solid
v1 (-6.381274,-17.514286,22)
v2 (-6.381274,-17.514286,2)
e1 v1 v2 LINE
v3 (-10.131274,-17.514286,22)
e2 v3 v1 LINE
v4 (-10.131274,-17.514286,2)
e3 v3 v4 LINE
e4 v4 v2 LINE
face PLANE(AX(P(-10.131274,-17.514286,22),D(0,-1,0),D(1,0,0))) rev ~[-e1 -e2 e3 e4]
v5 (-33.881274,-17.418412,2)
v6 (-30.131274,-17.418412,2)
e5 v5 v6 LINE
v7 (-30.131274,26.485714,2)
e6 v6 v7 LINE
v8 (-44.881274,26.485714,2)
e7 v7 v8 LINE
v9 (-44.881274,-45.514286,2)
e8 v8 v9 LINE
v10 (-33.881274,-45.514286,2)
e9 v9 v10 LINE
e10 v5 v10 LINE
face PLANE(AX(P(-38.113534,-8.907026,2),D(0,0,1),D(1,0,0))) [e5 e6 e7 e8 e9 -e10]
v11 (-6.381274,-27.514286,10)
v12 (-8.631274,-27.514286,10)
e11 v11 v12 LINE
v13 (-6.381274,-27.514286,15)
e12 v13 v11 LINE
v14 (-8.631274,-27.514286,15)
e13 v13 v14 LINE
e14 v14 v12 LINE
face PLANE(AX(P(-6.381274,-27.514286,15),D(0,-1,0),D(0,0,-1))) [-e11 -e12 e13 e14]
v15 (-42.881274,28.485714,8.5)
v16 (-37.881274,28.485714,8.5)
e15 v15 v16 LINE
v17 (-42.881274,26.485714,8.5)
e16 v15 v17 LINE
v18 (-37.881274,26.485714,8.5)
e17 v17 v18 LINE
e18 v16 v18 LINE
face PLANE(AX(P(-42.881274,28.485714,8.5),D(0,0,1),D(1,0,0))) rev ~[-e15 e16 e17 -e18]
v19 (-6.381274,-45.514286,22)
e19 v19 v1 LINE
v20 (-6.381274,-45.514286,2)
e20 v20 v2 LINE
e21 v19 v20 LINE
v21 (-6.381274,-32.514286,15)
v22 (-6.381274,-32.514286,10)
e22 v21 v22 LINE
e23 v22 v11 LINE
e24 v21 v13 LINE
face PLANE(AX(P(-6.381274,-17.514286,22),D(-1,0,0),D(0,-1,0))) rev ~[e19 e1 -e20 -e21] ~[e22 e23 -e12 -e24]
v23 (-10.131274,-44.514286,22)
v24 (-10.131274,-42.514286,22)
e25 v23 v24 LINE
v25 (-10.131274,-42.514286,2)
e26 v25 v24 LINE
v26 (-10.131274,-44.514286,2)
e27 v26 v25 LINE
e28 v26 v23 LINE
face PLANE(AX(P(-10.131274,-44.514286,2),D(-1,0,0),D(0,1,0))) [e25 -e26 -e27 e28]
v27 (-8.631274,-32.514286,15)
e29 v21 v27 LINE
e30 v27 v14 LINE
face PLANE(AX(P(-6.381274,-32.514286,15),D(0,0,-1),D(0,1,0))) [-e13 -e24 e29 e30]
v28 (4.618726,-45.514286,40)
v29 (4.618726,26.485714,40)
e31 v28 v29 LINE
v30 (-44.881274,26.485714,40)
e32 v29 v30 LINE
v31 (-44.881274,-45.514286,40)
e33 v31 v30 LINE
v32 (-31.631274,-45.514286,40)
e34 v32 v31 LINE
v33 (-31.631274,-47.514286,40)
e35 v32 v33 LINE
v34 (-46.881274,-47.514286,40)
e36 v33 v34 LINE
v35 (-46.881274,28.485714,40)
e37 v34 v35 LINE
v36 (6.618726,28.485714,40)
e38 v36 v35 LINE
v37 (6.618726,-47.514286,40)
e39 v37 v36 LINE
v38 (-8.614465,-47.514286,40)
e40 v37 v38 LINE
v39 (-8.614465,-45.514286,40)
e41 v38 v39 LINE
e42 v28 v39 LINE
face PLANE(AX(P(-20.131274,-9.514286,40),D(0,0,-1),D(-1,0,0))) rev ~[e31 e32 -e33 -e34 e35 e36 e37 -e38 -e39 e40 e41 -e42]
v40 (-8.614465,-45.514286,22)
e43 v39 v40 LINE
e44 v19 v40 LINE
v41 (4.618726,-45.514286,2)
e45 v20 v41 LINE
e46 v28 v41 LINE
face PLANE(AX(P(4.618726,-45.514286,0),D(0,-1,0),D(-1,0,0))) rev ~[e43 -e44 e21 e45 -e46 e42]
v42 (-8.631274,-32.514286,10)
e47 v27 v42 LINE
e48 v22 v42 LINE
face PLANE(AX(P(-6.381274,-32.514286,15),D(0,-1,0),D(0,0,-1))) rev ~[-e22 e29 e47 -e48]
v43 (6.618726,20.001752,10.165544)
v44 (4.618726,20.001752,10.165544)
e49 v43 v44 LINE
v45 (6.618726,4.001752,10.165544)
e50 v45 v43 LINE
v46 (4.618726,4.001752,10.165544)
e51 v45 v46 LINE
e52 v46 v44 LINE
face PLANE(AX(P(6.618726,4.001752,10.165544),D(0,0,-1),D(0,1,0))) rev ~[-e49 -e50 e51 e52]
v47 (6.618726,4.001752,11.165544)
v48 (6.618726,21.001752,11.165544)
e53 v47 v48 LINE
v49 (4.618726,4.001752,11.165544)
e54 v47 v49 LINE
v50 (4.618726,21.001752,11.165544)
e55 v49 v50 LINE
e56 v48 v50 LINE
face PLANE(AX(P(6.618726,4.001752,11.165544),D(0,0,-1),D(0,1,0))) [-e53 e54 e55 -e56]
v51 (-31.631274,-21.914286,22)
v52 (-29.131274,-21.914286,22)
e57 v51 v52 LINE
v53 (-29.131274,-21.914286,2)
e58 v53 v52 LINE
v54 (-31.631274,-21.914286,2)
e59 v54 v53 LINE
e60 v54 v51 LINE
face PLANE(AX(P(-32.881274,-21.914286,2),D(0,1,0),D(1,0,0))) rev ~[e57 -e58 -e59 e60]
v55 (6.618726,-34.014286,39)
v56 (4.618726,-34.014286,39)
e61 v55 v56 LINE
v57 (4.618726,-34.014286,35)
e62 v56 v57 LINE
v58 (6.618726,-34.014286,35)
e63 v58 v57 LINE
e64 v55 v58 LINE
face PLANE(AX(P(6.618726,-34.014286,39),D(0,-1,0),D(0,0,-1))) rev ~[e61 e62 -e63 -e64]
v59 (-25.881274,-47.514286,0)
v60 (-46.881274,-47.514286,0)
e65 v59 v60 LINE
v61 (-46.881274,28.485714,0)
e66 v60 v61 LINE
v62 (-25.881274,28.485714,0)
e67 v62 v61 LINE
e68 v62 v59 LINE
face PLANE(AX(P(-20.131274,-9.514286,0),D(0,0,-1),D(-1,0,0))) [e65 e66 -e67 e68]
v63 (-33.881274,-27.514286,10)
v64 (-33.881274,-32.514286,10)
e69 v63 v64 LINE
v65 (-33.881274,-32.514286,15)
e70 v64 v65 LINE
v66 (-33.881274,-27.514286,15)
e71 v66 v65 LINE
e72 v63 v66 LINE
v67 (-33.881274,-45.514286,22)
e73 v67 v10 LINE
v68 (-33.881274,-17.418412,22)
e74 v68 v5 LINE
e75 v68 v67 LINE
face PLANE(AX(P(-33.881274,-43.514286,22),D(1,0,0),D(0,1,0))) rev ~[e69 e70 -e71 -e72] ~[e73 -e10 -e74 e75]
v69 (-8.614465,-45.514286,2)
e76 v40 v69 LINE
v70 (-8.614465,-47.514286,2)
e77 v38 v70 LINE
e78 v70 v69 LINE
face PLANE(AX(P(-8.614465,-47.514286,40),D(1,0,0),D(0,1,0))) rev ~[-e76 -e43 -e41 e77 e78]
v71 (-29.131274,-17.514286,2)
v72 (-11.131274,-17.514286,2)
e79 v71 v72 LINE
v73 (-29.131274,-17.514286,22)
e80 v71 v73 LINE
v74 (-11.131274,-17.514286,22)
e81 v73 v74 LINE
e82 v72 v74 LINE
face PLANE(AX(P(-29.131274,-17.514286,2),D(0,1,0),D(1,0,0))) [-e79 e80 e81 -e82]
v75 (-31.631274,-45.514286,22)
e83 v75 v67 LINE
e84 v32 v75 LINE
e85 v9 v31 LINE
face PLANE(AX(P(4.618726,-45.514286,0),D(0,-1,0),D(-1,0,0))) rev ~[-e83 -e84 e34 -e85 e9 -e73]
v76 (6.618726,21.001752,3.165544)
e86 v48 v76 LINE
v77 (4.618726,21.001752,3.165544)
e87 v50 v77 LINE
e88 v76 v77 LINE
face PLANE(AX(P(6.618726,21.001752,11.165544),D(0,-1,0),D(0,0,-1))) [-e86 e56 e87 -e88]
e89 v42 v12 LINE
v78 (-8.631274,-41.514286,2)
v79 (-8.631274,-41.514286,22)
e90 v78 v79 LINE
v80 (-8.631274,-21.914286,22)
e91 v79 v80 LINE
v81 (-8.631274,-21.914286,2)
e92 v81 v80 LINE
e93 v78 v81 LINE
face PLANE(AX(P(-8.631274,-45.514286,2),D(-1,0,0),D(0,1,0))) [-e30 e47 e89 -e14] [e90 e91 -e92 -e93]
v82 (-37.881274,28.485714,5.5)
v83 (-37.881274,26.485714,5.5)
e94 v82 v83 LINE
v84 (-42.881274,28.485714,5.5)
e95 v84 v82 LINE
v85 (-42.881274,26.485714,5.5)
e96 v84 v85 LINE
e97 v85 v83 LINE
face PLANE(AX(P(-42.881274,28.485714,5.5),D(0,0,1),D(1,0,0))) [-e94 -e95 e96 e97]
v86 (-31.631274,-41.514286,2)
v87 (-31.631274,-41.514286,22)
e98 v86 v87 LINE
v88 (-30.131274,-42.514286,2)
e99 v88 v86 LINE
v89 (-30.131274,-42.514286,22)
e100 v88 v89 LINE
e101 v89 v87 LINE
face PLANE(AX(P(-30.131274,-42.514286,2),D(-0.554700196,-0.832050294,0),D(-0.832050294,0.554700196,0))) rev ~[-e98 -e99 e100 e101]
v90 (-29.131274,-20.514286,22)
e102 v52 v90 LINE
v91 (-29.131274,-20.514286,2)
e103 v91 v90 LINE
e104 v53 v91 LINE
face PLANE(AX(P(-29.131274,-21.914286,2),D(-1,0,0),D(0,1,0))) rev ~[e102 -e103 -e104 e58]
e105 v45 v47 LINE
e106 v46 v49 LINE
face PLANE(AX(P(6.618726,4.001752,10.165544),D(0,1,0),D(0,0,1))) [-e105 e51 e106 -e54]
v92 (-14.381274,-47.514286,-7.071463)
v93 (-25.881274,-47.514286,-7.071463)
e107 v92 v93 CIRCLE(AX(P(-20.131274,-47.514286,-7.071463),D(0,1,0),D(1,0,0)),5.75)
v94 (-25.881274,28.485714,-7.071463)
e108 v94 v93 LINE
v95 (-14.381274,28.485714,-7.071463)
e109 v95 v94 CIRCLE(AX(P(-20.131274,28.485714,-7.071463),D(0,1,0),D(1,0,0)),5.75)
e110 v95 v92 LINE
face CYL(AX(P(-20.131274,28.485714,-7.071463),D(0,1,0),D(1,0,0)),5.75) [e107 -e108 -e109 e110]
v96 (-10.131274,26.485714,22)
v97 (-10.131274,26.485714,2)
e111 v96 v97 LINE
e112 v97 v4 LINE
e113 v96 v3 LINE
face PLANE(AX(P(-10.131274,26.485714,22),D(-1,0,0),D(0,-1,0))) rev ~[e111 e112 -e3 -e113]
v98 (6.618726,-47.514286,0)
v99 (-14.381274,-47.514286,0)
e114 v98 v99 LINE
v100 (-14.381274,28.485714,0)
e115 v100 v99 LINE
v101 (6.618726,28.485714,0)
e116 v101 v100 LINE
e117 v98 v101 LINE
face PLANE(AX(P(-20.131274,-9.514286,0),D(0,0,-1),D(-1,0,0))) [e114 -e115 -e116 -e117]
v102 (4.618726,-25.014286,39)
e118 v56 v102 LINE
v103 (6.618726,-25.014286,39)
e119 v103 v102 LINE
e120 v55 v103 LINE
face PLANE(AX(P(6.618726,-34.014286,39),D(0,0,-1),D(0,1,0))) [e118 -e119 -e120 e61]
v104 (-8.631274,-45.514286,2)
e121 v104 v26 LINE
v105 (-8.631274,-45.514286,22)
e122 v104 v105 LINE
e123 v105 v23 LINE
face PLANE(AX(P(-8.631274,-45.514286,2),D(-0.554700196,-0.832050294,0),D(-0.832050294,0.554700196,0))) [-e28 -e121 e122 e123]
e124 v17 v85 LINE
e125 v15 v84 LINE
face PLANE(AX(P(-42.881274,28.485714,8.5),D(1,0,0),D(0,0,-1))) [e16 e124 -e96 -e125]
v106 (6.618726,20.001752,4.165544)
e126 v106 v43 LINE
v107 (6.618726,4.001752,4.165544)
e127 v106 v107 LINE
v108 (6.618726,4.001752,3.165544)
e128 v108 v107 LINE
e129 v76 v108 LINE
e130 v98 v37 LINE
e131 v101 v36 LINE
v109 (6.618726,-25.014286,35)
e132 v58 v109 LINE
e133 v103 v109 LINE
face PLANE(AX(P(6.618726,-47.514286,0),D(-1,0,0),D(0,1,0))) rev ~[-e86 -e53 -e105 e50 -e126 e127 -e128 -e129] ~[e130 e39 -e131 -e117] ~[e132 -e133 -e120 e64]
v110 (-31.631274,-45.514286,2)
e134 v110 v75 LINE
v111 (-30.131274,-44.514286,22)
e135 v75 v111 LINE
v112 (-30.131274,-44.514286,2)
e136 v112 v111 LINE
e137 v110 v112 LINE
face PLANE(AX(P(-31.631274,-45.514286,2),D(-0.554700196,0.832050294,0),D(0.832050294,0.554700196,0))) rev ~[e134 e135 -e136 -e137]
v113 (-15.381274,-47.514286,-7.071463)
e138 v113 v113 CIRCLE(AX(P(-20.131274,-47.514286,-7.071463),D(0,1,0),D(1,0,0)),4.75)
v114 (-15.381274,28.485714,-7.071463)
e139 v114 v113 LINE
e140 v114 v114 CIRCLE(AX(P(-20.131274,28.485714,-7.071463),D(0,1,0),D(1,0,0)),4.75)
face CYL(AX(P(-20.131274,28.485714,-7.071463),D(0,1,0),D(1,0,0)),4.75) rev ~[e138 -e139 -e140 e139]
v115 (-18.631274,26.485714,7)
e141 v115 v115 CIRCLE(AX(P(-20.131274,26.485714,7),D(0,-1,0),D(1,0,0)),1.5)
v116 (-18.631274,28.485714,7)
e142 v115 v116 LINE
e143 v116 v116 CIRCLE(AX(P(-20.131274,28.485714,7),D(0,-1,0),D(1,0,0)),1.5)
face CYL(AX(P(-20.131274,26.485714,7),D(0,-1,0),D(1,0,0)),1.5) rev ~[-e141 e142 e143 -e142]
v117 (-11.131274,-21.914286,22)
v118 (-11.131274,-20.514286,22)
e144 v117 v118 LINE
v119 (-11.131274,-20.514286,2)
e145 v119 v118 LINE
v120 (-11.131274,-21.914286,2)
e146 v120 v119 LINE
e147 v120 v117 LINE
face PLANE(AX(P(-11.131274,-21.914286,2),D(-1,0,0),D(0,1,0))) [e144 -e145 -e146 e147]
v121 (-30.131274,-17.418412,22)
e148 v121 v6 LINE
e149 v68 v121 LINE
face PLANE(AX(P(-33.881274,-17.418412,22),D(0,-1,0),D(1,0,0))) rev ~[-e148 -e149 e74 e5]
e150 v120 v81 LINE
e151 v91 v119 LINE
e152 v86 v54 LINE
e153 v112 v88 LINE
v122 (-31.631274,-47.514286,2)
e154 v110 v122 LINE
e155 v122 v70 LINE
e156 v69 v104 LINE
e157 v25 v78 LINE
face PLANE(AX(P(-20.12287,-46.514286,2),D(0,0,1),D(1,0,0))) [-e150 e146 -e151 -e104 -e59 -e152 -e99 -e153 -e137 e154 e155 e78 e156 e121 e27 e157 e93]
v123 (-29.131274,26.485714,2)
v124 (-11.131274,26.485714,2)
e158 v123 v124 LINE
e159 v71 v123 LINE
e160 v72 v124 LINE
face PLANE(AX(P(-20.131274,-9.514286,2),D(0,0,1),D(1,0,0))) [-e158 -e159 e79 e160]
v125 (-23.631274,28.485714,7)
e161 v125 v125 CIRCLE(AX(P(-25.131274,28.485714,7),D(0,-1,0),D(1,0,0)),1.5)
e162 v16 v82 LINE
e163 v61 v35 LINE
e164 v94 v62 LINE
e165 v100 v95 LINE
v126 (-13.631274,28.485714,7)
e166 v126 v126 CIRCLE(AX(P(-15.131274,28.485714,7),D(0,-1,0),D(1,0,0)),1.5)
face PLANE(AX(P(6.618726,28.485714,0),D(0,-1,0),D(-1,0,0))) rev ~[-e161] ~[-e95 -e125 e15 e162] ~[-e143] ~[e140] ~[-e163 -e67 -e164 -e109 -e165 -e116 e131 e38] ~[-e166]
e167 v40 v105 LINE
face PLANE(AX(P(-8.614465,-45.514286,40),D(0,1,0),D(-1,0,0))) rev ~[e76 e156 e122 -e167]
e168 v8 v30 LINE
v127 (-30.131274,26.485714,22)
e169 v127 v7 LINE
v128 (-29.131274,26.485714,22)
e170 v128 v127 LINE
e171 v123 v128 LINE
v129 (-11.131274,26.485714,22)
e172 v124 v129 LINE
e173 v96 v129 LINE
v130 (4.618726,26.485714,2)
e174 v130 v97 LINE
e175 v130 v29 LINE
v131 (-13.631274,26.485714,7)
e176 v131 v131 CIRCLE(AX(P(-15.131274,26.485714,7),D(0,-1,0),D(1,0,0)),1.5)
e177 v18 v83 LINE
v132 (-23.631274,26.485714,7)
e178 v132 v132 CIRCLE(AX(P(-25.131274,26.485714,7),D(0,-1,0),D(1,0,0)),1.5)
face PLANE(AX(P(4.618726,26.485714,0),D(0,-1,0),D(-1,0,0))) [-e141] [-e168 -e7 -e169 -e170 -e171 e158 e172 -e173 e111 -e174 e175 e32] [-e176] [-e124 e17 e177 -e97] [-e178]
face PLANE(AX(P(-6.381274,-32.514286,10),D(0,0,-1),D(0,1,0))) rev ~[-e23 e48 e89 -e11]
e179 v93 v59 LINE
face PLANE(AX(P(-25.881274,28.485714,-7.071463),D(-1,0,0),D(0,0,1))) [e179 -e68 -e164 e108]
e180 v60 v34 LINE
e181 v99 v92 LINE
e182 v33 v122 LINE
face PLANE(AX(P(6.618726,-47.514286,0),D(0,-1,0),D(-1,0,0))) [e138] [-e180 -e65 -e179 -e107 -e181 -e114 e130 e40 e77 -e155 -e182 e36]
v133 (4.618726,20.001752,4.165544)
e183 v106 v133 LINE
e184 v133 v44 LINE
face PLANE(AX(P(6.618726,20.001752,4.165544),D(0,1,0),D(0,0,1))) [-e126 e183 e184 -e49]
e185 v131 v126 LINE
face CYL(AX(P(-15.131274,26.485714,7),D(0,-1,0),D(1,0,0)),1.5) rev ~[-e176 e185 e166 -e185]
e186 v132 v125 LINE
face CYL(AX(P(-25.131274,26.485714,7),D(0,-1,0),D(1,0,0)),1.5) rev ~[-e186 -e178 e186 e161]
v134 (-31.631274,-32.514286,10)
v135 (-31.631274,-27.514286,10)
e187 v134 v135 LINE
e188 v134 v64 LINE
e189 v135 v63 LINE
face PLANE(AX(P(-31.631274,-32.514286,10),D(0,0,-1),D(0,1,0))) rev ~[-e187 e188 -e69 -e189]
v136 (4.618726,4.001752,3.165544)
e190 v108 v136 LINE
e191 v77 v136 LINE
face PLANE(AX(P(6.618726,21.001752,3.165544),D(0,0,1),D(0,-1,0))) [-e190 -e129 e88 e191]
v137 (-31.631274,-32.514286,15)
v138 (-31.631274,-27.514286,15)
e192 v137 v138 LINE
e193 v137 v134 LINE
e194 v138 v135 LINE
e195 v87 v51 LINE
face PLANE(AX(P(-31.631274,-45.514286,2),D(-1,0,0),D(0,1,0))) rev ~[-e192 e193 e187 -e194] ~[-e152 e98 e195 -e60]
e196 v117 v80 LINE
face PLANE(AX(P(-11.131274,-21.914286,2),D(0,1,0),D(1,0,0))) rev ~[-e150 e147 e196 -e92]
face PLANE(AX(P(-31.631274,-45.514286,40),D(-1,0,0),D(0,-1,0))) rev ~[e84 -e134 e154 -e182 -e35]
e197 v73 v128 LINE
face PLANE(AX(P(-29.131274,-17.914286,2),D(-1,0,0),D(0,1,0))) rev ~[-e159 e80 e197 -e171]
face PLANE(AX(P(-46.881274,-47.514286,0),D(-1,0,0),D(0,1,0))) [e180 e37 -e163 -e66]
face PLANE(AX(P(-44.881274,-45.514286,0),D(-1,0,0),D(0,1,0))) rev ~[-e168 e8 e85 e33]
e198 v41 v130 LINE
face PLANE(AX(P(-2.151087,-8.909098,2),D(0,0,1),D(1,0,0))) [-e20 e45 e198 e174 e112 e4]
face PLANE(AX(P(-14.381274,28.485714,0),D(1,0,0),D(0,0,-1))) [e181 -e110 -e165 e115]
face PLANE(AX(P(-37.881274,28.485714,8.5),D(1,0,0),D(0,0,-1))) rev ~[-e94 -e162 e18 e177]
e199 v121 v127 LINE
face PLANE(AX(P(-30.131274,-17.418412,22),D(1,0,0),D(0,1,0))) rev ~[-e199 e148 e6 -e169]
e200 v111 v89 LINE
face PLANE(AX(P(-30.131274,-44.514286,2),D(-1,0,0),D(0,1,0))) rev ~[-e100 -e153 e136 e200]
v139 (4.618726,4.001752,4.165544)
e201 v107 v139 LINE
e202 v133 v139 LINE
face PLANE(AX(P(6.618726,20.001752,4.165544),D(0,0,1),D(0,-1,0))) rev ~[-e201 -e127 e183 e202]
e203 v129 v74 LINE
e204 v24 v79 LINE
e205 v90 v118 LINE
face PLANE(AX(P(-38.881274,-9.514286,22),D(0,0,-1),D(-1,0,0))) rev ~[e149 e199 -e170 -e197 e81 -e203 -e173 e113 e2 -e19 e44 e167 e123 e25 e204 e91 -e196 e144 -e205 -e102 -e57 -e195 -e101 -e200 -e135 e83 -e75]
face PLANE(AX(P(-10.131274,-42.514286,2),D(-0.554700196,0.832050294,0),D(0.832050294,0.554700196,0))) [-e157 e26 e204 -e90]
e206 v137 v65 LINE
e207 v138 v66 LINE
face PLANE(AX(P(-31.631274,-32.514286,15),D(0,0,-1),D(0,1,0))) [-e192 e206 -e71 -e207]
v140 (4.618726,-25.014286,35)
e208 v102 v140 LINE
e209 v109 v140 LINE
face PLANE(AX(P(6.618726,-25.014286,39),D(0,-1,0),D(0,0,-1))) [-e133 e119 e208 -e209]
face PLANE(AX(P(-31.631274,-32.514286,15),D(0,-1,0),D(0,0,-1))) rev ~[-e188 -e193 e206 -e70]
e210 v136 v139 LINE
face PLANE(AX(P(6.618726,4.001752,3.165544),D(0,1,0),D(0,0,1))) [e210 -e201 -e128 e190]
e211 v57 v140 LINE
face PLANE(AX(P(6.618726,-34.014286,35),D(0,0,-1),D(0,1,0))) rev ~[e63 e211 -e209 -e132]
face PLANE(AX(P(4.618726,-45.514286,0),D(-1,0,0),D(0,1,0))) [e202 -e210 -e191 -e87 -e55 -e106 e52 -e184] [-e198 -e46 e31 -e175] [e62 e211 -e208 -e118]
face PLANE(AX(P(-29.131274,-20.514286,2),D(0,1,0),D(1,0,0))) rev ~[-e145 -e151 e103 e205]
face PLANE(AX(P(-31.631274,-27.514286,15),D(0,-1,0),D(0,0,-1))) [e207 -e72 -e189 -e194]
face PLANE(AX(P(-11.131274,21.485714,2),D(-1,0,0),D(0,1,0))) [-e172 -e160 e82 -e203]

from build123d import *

# Parameters (mm, degrees)
SKETCH1_W            = 25.5
SKETCH1_H            = 72
BOSS_EXTRUDE1_DEPTH  = 2
SKETCH2_W            = 3.75
SKETCH2_H            = 5
SKETCH2_H_2          = 4
BOSS_EXTRUDE2_DEPTH  = 20
SKETCH3_W            = 18
SKETCH3_H            = 3
BOSS_EXTRUDE3_DEPTH  = 20
SKETCH4_W            = 3.75
SKETCH4_H            = 39.4
BOSS_EXTRUDE4_DEPTH  = 20
SKETCH9_W            = 1.25
SKETCH9_H            = 23.6
BOSS_EXTRUDE6_DEPTH  = 20
BOSS_EXTRUDE7_DEPTH  = 20
SKETCH15_W           = 12
SKETCH15_H           = 72
BOSS_EXTRUDE8_DEPTH  = 22
SKETCH16_W           = 53.5
SKETCH16_H           = 76
SKETCH16_W_2         = 49.5
SKETCH16_H_2         = 72
BOSS_EXTRUDE9_DEPTH  = 40
SKETCH17_W           = 9
SKETCH17_H           = 68
CUT_EXTRUDE1_DEPTH   = 20
SKETCH276_R          = 1.5
CUT_EXTRUDE2_DEPTH   = 3
CUT_EXTRUDE3_DEPTH   = 20
CUT_EXTRUDE4_REACH   = 55.5
SKETCH283_W          = 4
SKETCH283_H          = 9
CUT_EXTRUDE5_REACH   = 17.25
SKETCH287_W          = 5
SKETCH287_H          = 5
CUT_EXTRUDE6_REACH   = 42.5
SKETCH288_W          = 5
SKETCH288_H          = 5
CUT_EXTRUDE8_REACH   = 78
SKETCH291_W          = 5
SKETCH291_H          = 3
CUT_EXTRUDE9_REACH   = 55.5
CUT_EXTRUDE10_DEPTH  = 38
SKETCH297_R          = 4.75
BOSS_EXTRUDE10_DEPTH = 76


with BuildPart() as part:
    # Sketch1 → Boss-Extrude1 (new body)
    with BuildSketch(Plane.XY):
        with Locations((-20.131274131, -9.514285714)):
            Rectangle(SKETCH1_W, SKETCH1_H)
    extrude(amount=BOSS_EXTRUDE1_DEPTH)

    # Sketch2 → Boss-Extrude2 (add)
    with BuildSketch(Plane.XY.offset(2)):
        with Locations((-31.006274131, 23.985714286)):
            Rectangle(SKETCH2_W, SKETCH2_H)
        with Locations((-31.006274131, -19.914285714)):
            Rectangle(SKETCH2_W, SKETCH2_H_2)
        with Locations((-9.256274131, -19.914285714)):
            Rectangle(SKETCH2_W, SKETCH2_H_2)
        with Locations((-9.256274131, 23.985714286)):
            Rectangle(SKETCH2_W, SKETCH2_H)
    extrude(amount=BOSS_EXTRUDE2_DEPTH)

    # Sketch3 → Boss-Extrude3 (add)
    with BuildSketch(Plane.XY.offset(2)):
        with Locations((-20.131274131, -19.014285714)):
            Rectangle(SKETCH3_W, SKETCH3_H)
    extrude(amount=BOSS_EXTRUDE3_DEPTH)

    # Sketch4 → Boss-Extrude4 (add)
    with BuildSketch(Plane.XY.offset(2)):
        with Locations((-31.006274131, 1.785714286)):
            Rectangle(SKETCH4_W, SKETCH4_H)
        with Locations((-9.256274131, 1.785714286)):
            Rectangle(SKETCH4_W, SKETCH4_H)
    extrude(amount=BOSS_EXTRUDE4_DEPTH)

    # Sketch9 → Boss-Extrude6 (add)
    with BuildSketch(Plane.XY.offset(2)):
        with Locations((-32.256274131, -33.714285714)):
            Rectangle(SKETCH9_W, SKETCH9_H)
        with Locations((-8.006274131, -33.714285714)):
            Rectangle(SKETCH9_W, SKETCH9_H)
    extrude(amount=BOSS_EXTRUDE6_DEPTH)

    # Sketch11 → Boss-Extrude7 (add)
    with BuildSketch(Plane.XY.offset(2)):
        Polygon((-31.631274131, -45.514285714), (-30.131274131, -44.514285714), (-30.131274131, -42.514285714), (-31.631274131, -41.514285714), align=None)
        Polygon((-8.631274131, -45.514285714), (-10.131274131, -44.514285714), (-10.131274131, -42.514285714), (-8.631274131, -41.514285714), align=None)
    extrude(amount=BOSS_EXTRUDE7_DEPTH)

    # Sketch15 → Boss-Extrude8 (add)
    with BuildSketch(Plane(origin=(0, 0, 0), x_dir=(-1, 0, 0), z_dir=(0, 0, -1))):
        with Locations((38.881274131, -9.514285714)):
            Rectangle(SKETCH15_W, SKETCH15_H)
        with Locations((1.381274131, -9.514285714)):
            Rectangle(SKETCH15_W, SKETCH15_H)
    extrude(amount=-BOSS_EXTRUDE8_DEPTH)

    # Sketch16 → Boss-Extrude9 (add)
    with BuildSketch(Plane(origin=(0, 0, 0), x_dir=(-1, 0, 0), z_dir=(0, 0, -1))):
        with Locations((20.131274131, -9.514285714)):
            Rectangle(SKETCH16_W, SKETCH16_H)
        with Locations((20.131274131, -9.514285714)):
            Rectangle(SKETCH16_W_2, SKETCH16_H_2, mode=Mode.SUBTRACT)
    extrude(amount=-BOSS_EXTRUDE9_DEPTH)

    # Sketch17 → Cut-Extrude1 (cut)
    with BuildSketch(Plane.XY.offset(22)):
        with Locations((-38.381274131, -9.514285714)):
            Rectangle(SKETCH17_W, SKETCH17_H)
        with Locations((-1.881274131, -9.514285714)):
            Rectangle(SKETCH17_W, SKETCH17_H)
    extrude(amount=-CUT_EXTRUDE1_DEPTH, mode=Mode.SUBTRACT)

    # Sketch276 → Cut-Extrude2 (cut, through all)
    with BuildSketch(Plane.XZ.offset(-26.485714286)):
        with Locations((-25.131274131, 7)):
            Circle(SKETCH276_R)
        with Locations((-15.131274131, 7)):
            Circle(SKETCH276_R)
        with Locations((-20.131274131, 7)):
            Circle(SKETCH276_R)
    extrude(amount=-CUT_EXTRUDE2_DEPTH, mode=Mode.SUBTRACT)

    # Sketch282 → Cut-Extrude3 (cut)
    with BuildSketch(Plane.XY.offset(22)):
        Polygon((-33.881274131, -17.418411546), (-30.131274131, -17.418411546), (-30.131274131, 26.485714286), (-44.881274131, 26.485714286), (-44.881274131, -45.514285714), (-33.881274131, -45.514285714), align=None)
        Polygon((-10.131274131, 26.485714286), (-10.131274131, -17.514285714), (-6.381274131, -17.514285714), (-6.381274131, -45.514285714), (4.618725869, -45.514285714), (4.618725869, 26.485714286), align=None)
    extrude(amount=-CUT_EXTRUDE3_DEPTH, mode=Mode.SUBTRACT)

    # Sketch283 → Cut-Extrude4 (cut, up to next)
    with BuildSketch(Plane(origin=(6.618725869, 0, 0), x_dir=(0, 0, -1), z_dir=(1, 0, 0)), mode=Mode.PRIVATE) as cut_extrude4_sk1:
        with Locations((-37, -29.514285714)):
            Rectangle(SKETCH283_W, SKETCH283_H)
    cut_extrude4_tool1 = extrude(cut_extrude4_sk1.sketch, amount=-CUT_EXTRUDE4_REACH, mode=Mode.PRIVATE) & part.part
    add(cut_extrude4_tool1.solids().sort_by_distance((6.618726, -29.514286, 37))[0], mode=Mode.SUBTRACT)

    # Sketch287 → Cut-Extrude5 (cut, up to next)
    with BuildSketch(Plane(origin=(-31.631274131, 0, 0), x_dir=(0, 0, -1), z_dir=(1, 0, 0)), mode=Mode.PRIVATE) as cut_extrude5_sk1:
        with Locations((-12.5, -30.014285714)):
            Rectangle(SKETCH287_W, SKETCH287_H)
    cut_extrude5_tool1 = extrude(cut_extrude5_sk1.sketch, amount=-CUT_EXTRUDE5_REACH, mode=Mode.PRIVATE) & part.part
    add(cut_extrude5_tool1.solids().sort_by_distance((-31.631274, -30.014286, 12.5))[0], mode=Mode.SUBTRACT)

    # Sketch288 → Cut-Extrude6 (cut, up to next)
    with BuildSketch(Plane(origin=(-6.381274131, 0, 0), x_dir=(0, 0, -1), z_dir=(1, 0, 0)), mode=Mode.PRIVATE) as cut_extrude6_sk1:
        with Locations((-12.5, -30.014285714)):
            Rectangle(SKETCH288_W, SKETCH288_H)
    cut_extrude6_tool1 = extrude(cut_extrude6_sk1.sketch, amount=-CUT_EXTRUDE6_REACH, mode=Mode.PRIVATE) & part.part
    add(cut_extrude6_tool1.solids().sort_by_distance((-6.381274, -30.014286, 12.5))[0], mode=Mode.SUBTRACT)

    # Sketch291 → Cut-Extrude8 (cut, up to next)
    with BuildSketch(Plane(origin=(0, 28.485714286, 0), x_dir=(1, 0, 0), z_dir=(0, 1, 0)), mode=Mode.PRIVATE) as cut_extrude8_sk1:
        with Locations((-40.381274131, -7)):
            Rectangle(SKETCH291_W, SKETCH291_H)
    cut_extrude8_tool1 = extrude(cut_extrude8_sk1.sketch, amount=-CUT_EXTRUDE8_REACH, mode=Mode.PRIVATE) & part.part
    add(cut_extrude8_tool1.solids().sort_by_distance((-40.381274, 28.485714, 7))[0], mode=Mode.SUBTRACT)

    # Sketch292 → Cut-Extrude9 (cut, up to next)
    with BuildSketch(Plane(origin=(6.618725869, 0, 0), x_dir=(0, 0, -1), z_dir=(1, 0, 0)), mode=Mode.PRIVATE) as cut_extrude9_sk1:
        Polygon((-10.165543533, 4.001752047), (-11.165543533, 4.001752047), (-11.165543533, 21.001752047), (-3.165543533, 21.001752047), (-3.165543533, 4.001752047), (-4.165543533, 4.001752047), (-4.165543533, 5.001752047), (-4.165543533, 20.001752047), (-10.165543533, 20.001752047), (-10.165543533, 5.001752047), align=None)
    cut_extrude9_tool1 = extrude(cut_extrude9_sk1.sketch, amount=-CUT_EXTRUDE9_REACH, mode=Mode.PRIVATE) & part.part
    add(cut_extrude9_tool1.solids().sort_by_distance((6.618726, 4.189635, 10.665544))[0], mode=Mode.SUBTRACT)

    # Sketch295 → Cut-Extrude10 (cut)
    with BuildSketch(Plane.XY.offset(40)):
        Polygon((-31.631274131, -47.514285714), (-8.614465399, -47.514285714), (-8.614465399, -45.514285714), (-8.631274131, -45.514285714), (-31.631274131, -45.514285714), align=None)
    extrude(amount=-CUT_EXTRUDE10_DEPTH, mode=Mode.SUBTRACT)

    # Sketch297 → Boss-Extrude10 (add)
    with BuildSketch(Plane(origin=(0, 28.485714286, 0), x_dir=(1, 0, 0), z_dir=(0, 1, 0))):
        with BuildLine():
            Line((-25.881274131, 0), (-14.381274131, 0))
            Line((-14.381274131, 0), (-14.381274131, 7.071463376))
            ThreePointArc((-14.381274131, 7.071463376), (-20.131274131, 12.821463376), (-25.881274131, 7.071463376))
            Line((-25.881274131, 7.071463376), (-25.881274131, 0))
        make_face()
        with Locations((-20.131274131, 7.071463376)):
            Circle(SKETCH297_R, mode=Mode.SUBTRACT)
    extrude(amount=-BOSS_EXTRUDE10_DEPTH)


solid = part.part
